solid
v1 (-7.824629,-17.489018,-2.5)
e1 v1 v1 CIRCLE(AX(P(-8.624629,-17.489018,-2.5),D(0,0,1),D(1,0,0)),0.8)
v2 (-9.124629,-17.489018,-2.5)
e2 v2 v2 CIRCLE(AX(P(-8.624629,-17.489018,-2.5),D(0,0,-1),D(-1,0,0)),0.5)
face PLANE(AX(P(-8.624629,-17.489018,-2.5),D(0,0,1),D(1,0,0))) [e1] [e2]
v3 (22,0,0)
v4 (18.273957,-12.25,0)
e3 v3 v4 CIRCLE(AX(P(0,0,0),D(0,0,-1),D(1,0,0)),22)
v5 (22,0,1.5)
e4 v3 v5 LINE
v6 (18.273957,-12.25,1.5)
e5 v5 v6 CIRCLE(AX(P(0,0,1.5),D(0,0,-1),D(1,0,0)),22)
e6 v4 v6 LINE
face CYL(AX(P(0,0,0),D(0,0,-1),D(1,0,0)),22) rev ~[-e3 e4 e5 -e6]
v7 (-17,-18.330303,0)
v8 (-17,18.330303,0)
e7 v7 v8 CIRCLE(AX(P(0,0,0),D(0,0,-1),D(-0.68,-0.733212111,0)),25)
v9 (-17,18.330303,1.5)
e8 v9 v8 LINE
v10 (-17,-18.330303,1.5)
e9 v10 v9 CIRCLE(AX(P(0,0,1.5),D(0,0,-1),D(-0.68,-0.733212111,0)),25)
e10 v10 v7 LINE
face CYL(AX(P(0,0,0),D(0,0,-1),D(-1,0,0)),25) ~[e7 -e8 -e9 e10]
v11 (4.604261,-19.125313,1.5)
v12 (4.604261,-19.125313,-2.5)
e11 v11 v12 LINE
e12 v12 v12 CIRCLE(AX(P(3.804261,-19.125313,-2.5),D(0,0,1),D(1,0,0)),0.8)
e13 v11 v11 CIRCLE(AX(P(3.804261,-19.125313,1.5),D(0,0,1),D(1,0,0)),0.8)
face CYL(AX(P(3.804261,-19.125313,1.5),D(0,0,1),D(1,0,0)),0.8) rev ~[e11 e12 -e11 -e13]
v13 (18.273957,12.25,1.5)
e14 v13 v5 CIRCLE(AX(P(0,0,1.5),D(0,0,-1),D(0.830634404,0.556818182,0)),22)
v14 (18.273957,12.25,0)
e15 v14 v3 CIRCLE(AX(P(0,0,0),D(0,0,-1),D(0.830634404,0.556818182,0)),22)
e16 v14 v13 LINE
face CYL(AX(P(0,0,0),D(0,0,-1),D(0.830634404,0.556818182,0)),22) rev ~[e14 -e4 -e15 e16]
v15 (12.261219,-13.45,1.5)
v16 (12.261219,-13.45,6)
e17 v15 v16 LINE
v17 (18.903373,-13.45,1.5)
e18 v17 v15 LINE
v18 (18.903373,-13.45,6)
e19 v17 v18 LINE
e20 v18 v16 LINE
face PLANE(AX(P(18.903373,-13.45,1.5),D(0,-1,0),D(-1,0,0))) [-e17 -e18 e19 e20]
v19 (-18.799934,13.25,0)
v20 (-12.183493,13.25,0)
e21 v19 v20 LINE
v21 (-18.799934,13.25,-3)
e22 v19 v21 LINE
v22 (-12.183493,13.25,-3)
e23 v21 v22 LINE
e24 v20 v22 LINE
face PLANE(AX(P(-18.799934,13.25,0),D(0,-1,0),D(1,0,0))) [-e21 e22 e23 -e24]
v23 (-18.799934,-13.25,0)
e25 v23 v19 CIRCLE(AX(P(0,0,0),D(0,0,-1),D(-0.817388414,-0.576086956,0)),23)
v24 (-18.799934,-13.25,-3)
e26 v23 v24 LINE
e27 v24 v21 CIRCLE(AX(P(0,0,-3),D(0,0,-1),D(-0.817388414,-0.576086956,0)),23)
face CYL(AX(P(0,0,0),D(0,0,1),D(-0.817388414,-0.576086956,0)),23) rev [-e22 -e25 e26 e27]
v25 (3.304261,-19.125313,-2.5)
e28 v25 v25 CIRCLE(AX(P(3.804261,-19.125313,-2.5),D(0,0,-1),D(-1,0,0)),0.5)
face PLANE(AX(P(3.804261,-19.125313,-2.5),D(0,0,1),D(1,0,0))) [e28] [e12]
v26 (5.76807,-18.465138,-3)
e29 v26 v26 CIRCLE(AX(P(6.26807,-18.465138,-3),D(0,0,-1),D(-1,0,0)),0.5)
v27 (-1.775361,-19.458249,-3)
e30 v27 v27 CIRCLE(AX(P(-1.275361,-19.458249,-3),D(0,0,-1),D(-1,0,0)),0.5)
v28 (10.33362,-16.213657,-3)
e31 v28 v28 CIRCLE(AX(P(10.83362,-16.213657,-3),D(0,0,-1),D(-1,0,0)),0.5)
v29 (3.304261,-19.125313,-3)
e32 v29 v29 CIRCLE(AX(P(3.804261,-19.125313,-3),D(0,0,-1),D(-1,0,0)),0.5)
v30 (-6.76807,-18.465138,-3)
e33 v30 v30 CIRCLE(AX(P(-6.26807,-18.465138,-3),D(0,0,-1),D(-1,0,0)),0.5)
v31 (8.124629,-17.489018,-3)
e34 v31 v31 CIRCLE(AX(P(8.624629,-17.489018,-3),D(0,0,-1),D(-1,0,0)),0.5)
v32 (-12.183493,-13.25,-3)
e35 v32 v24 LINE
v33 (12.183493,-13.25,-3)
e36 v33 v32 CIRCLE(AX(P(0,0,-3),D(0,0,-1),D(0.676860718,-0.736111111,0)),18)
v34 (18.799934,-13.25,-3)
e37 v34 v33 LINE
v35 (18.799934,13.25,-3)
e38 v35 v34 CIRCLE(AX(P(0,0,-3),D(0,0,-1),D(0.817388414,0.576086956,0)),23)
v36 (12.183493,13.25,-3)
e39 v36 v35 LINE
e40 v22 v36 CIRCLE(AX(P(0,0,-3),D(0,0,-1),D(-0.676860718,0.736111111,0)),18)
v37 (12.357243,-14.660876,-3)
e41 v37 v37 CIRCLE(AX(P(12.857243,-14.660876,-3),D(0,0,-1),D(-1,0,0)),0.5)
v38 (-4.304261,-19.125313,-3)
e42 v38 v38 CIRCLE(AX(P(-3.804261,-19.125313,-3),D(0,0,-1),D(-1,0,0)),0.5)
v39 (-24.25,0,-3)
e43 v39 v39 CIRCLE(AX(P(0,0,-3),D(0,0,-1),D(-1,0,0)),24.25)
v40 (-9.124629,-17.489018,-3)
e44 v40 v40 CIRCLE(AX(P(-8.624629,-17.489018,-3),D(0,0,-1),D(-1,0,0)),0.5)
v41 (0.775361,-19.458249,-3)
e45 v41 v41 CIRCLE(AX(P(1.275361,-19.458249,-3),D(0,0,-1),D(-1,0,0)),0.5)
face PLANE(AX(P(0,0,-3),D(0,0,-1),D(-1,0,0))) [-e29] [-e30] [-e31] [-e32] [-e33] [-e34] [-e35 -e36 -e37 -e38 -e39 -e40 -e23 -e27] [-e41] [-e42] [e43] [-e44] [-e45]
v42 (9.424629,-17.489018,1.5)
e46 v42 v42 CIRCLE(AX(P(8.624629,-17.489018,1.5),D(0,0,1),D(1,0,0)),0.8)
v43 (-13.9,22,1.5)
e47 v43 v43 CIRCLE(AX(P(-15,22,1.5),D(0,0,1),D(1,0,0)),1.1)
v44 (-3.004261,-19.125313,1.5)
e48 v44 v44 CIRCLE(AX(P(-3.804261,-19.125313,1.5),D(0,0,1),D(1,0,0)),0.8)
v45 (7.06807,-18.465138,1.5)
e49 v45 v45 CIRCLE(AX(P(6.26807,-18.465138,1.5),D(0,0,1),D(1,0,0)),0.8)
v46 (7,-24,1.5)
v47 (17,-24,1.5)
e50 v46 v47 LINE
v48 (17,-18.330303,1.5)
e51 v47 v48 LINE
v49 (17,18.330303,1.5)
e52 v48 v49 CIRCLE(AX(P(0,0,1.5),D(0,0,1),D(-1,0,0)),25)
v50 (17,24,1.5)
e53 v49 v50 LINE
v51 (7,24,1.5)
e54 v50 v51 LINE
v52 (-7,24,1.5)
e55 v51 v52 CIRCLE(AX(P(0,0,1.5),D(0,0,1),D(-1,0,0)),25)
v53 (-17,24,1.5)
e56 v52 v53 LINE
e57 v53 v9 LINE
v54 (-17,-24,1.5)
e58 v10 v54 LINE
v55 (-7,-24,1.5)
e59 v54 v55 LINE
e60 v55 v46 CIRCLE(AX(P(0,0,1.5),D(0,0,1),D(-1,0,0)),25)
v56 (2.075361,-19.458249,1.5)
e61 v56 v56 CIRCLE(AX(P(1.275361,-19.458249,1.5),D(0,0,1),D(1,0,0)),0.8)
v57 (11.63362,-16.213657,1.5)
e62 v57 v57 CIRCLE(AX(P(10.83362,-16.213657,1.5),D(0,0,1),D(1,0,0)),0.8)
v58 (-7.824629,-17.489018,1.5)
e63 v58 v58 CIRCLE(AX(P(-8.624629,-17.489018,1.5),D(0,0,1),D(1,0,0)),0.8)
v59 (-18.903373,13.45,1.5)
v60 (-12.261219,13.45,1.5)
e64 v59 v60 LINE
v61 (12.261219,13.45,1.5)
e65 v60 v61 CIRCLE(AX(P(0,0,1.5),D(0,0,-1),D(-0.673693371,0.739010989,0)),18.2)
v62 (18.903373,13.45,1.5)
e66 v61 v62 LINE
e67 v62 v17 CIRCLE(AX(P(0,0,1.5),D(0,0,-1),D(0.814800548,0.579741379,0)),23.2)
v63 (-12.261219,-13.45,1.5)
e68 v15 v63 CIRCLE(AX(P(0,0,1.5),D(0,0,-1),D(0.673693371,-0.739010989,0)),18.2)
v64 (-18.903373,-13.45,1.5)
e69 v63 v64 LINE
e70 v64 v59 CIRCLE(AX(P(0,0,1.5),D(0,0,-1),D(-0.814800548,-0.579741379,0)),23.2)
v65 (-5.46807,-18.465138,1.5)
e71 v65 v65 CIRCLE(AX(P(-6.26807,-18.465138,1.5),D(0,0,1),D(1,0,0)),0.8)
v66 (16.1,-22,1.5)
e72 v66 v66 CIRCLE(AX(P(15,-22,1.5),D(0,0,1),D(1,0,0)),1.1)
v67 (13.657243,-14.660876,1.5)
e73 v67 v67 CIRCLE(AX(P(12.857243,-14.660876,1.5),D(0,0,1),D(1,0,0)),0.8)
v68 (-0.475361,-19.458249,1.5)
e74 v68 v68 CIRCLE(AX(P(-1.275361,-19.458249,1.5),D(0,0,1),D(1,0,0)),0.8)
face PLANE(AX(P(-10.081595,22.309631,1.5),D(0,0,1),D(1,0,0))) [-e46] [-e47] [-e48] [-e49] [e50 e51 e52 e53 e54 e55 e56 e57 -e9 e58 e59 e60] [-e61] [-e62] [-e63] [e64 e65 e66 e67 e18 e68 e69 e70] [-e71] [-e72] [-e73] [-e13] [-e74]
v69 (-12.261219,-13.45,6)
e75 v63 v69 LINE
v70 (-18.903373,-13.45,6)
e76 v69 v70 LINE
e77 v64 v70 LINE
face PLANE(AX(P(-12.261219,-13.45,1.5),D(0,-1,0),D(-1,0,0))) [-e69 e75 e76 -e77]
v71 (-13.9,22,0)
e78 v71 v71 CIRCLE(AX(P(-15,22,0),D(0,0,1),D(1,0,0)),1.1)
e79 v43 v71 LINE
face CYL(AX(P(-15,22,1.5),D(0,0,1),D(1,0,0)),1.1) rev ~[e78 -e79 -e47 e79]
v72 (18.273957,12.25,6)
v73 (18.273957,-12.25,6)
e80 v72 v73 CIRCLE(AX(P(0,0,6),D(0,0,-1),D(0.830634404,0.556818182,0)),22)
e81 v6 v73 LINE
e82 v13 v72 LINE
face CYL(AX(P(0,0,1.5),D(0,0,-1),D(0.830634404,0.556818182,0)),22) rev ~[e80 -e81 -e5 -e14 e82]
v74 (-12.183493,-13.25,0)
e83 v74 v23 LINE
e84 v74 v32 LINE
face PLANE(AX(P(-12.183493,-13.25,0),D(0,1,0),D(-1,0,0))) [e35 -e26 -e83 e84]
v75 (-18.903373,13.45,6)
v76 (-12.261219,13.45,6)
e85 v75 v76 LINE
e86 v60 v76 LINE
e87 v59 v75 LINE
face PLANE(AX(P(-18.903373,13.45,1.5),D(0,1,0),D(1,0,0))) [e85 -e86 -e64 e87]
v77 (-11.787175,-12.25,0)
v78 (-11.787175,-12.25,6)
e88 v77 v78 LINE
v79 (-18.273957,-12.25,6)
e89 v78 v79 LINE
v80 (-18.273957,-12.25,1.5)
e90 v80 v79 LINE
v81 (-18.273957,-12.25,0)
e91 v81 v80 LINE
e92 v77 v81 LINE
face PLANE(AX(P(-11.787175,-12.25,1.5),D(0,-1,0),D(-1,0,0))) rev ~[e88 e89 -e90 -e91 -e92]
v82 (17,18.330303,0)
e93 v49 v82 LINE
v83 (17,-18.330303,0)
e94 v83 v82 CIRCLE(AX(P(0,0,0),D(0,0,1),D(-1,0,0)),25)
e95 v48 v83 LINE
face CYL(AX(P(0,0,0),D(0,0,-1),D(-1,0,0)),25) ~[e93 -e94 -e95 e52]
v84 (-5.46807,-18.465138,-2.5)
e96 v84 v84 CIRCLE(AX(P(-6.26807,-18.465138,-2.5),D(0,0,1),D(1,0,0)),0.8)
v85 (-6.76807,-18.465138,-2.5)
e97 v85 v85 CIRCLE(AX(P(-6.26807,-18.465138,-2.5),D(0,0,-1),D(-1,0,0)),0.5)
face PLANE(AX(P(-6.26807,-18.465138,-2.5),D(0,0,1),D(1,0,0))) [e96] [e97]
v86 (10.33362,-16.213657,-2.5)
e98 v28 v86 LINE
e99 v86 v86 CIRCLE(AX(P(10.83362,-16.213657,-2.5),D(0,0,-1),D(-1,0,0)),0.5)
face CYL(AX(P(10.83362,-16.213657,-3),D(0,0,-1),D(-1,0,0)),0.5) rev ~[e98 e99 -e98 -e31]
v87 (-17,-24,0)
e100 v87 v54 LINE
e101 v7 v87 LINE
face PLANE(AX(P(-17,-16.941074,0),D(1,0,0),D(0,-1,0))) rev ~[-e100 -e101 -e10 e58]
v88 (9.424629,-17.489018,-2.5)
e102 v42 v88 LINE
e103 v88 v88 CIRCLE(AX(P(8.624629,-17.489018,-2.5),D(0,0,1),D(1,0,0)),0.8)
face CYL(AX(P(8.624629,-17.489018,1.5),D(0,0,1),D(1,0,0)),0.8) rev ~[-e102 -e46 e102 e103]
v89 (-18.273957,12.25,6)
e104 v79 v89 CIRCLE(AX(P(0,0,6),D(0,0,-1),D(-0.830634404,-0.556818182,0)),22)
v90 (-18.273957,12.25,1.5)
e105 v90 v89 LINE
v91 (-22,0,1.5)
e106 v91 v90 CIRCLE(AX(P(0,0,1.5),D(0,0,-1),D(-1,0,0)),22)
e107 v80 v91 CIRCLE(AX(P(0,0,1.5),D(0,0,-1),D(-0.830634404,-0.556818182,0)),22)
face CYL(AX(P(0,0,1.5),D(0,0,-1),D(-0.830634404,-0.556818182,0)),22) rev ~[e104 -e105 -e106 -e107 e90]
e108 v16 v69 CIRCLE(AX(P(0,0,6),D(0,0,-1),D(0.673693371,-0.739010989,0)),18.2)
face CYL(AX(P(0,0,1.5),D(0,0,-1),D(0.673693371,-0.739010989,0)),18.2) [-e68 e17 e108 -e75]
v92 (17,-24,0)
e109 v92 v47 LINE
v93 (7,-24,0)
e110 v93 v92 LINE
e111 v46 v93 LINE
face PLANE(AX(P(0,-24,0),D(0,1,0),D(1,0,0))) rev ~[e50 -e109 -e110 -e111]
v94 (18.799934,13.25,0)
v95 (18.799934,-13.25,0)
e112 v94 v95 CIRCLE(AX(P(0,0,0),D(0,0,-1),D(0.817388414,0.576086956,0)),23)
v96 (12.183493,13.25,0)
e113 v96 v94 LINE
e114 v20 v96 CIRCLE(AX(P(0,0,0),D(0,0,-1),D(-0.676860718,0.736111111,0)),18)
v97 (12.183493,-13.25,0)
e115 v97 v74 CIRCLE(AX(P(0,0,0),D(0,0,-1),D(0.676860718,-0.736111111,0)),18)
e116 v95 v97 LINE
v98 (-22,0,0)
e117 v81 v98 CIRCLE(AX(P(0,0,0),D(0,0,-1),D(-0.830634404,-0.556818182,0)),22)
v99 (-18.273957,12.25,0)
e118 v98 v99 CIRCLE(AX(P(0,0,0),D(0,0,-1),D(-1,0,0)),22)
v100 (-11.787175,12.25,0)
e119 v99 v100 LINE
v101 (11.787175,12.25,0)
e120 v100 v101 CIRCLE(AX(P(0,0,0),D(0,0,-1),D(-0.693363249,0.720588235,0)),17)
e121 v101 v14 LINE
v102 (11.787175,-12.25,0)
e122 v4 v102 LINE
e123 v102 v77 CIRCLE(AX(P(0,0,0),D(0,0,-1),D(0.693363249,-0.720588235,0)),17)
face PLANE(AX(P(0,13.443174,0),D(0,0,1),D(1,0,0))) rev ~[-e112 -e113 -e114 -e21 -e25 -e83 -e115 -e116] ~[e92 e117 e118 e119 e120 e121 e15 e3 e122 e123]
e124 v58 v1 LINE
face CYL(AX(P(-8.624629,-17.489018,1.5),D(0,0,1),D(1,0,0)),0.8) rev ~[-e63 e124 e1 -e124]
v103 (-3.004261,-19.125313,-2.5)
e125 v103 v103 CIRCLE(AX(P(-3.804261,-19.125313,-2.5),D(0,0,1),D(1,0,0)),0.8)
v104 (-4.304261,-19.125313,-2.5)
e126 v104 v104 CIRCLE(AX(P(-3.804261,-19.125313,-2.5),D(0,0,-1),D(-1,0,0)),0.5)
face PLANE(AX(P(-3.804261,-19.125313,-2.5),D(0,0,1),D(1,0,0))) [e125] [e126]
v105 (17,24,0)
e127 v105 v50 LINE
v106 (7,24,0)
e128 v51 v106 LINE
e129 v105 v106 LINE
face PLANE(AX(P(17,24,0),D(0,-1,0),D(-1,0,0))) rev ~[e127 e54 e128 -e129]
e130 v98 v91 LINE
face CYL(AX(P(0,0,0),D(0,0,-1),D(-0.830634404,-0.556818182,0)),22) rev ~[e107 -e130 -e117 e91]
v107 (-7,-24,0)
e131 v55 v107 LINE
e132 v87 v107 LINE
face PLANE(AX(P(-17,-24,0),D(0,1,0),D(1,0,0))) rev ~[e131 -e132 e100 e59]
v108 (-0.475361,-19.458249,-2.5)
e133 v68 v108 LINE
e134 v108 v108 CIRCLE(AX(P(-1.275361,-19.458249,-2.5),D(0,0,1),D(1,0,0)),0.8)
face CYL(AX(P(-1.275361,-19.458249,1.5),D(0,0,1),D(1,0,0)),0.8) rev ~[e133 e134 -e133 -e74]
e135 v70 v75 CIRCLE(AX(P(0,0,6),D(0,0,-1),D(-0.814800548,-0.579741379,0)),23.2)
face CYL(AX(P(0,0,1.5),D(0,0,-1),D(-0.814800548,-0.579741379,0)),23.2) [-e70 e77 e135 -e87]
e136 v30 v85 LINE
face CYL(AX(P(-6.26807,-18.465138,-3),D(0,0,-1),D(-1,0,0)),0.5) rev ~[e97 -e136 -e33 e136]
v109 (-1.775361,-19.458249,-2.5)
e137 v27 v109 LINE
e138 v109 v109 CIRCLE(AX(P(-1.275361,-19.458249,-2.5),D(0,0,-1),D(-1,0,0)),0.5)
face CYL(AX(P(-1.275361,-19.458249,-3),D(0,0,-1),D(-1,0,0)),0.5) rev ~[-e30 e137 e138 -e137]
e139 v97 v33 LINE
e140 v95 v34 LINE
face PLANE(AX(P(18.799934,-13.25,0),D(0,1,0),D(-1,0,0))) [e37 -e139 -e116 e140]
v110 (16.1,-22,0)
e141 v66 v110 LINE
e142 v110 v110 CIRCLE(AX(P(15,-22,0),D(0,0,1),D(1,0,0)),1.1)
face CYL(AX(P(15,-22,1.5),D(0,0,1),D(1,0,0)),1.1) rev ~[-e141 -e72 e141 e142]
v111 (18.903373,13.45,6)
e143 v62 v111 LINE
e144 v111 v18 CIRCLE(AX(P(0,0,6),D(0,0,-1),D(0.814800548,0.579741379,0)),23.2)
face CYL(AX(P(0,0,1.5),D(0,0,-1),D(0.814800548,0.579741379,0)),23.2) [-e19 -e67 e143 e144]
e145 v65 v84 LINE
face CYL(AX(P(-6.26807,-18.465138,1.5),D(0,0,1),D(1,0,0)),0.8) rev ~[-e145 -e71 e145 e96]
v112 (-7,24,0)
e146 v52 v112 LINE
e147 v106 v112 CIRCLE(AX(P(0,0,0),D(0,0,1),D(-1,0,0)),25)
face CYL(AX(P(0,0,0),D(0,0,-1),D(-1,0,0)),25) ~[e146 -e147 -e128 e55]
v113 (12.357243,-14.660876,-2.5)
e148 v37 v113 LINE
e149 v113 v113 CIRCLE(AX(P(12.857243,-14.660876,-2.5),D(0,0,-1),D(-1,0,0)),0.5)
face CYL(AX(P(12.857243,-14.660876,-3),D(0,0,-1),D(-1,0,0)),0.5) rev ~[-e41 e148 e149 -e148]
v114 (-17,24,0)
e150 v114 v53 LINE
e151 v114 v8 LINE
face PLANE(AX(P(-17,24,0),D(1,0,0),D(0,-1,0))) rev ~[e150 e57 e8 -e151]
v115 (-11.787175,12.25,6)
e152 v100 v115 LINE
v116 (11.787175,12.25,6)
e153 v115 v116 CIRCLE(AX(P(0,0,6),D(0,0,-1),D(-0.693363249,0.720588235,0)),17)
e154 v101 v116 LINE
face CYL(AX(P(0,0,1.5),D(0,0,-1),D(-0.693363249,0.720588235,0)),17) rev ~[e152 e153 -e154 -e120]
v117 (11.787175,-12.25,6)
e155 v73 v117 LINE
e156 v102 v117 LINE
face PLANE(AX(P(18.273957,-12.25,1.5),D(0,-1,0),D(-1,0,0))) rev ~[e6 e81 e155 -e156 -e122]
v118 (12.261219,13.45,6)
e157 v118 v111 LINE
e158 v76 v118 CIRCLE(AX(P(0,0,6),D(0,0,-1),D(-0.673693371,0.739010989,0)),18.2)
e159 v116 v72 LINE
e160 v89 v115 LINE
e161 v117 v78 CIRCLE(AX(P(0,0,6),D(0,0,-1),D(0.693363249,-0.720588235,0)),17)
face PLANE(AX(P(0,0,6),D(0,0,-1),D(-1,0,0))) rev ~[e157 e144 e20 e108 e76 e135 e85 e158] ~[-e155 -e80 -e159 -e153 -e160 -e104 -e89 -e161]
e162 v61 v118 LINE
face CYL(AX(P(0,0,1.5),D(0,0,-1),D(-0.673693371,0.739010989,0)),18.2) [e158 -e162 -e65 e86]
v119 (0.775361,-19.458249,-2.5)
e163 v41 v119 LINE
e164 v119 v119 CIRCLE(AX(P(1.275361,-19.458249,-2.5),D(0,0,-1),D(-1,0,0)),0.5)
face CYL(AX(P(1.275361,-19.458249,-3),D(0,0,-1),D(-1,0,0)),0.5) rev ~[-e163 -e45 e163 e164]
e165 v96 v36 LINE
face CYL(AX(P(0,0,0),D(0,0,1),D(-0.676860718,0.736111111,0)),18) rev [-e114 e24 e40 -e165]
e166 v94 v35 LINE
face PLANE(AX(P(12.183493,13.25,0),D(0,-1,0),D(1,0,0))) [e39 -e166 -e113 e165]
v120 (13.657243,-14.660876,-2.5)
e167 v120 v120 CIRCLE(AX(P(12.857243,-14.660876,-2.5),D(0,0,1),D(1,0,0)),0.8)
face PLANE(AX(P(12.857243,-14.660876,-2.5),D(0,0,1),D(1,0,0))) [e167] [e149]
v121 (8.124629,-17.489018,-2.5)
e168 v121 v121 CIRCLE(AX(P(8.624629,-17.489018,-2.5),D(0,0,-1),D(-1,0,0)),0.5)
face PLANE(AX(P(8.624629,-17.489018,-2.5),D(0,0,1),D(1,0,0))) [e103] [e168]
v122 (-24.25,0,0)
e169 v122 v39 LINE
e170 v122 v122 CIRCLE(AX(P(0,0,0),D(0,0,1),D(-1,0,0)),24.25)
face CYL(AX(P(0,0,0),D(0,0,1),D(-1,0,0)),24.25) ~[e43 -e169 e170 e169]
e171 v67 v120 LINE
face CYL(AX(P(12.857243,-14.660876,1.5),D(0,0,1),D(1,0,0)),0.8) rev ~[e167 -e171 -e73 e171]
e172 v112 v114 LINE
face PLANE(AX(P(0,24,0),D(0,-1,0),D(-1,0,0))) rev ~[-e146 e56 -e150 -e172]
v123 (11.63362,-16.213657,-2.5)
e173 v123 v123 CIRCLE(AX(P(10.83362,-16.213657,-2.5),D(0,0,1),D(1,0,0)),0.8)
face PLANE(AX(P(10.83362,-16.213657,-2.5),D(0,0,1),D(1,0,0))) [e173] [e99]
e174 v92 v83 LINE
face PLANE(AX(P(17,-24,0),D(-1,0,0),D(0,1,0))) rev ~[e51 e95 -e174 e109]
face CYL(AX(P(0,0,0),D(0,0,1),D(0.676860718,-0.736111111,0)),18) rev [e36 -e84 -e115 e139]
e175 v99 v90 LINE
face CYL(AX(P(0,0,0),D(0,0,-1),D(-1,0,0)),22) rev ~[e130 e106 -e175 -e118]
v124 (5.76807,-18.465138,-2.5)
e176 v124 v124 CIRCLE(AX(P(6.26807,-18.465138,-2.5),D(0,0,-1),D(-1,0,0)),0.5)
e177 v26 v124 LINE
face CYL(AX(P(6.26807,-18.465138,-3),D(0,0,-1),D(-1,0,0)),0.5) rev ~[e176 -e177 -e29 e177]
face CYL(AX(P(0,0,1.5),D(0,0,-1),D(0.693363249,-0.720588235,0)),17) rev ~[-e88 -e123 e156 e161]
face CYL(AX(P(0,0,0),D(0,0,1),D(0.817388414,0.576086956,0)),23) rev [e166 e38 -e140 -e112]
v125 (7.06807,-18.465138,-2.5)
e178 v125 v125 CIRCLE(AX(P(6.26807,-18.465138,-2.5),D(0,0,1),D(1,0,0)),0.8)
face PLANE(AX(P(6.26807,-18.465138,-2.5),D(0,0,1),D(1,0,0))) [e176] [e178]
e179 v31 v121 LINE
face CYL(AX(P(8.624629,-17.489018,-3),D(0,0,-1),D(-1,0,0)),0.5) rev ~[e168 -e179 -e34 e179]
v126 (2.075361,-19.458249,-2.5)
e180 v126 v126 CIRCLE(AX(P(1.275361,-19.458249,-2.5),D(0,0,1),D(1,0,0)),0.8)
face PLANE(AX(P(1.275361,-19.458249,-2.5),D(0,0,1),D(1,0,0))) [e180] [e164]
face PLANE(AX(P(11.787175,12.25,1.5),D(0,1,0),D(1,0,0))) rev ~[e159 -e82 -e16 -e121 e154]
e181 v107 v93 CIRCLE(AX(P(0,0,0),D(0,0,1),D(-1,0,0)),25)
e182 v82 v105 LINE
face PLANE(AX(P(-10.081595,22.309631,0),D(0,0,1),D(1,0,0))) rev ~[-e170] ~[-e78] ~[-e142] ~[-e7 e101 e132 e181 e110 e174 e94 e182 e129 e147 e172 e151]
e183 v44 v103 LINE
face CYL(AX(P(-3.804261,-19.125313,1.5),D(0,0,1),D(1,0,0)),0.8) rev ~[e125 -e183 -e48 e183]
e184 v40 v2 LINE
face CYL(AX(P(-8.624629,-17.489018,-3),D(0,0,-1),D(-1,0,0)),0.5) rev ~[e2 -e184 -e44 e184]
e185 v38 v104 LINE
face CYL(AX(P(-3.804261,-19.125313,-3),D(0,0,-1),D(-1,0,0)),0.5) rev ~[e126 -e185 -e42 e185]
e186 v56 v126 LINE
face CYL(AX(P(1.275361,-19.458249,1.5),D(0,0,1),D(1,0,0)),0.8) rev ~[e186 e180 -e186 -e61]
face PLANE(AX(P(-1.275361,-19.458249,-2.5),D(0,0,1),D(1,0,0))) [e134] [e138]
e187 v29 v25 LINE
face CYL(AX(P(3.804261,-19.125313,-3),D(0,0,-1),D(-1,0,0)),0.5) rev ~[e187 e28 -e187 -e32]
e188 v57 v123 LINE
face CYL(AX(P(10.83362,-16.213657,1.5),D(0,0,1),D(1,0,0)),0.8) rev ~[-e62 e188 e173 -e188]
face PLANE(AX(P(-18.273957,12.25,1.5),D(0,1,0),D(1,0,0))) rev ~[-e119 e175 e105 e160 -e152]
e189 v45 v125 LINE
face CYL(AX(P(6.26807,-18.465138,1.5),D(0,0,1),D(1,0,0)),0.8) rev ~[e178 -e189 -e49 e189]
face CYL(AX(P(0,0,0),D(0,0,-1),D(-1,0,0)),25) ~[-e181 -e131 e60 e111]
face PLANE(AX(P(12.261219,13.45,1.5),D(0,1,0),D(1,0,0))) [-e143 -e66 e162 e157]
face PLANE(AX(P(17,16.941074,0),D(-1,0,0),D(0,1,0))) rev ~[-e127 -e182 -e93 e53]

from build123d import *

# Parameters (mm, degrees)
EXTRUDE_1_DEPTH     = 1.5
EXTRUDE_2_DEPTH     = 4.5
SKETCH_5_R          = 24.25
EXTRUDE_4_DEPTH     = 3
EXTRUDE_5_DEPTH     = 1.5
SKETCH_7_R          = 0.5
CUT_EXTRUDE_2_DEPTH = 37.482872694
SKETCH_8_R          = 0.8
CUT_EXTRUDE_3_DEPTH = 4
SKETCH_9_R          = 1.1
CUT_EXTRUDE_4_DEPTH = 10


with BuildPart() as part:
    # 草图1 → 凸台-拉伸1 (new body)
    with BuildSketch(Plane.XY):
        with BuildLine():
            ThreePointArc((-18.273956879, 12.25), (0, 22), (18.273956879, 12.25))
            ThreePointArc((18.273956879, 12.25), (21.047886489, 6.402067973), (22, 0))
            Line((22, 0), (25, 0))
            ThreePointArc((25, 0), (0, 25), (-25, 0))
            Line((-25, 0), (-22, 0))
            ThreePointArc((-22, 0), (-21.047886489, 6.402067973), (-18.273956879, 12.25))
        make_face()
        with BuildLine():
            Line((25, 0), (22, 0))
            ThreePointArc((22, 0), (21.047886489, -6.402067973), (18.273956879, -12.25))
            ThreePointArc((18.273956879, -12.25), (0, -22), (-18.273956879, -12.25))
            ThreePointArc((-18.273956879, -12.25), (-21.047886489, -6.402067973), (-22, 0))
            Line((-22, 0), (-25, 0))
            ThreePointArc((-25, 0), (0, -25), (25, 0))
        make_face()
        with BuildLine():
            ThreePointArc((-18.273956879, -12.25), (0, -22), (18.273956879, -12.25))
            Line((18.273956879, -12.25), (11.787175234, -12.25))
            ThreePointArc((11.787175234, -12.25), (0, -17), (-11.787175234, -12.25))
            Line((-11.787175234, -12.25), (-18.273956879, -12.25))
        make_face()
        with BuildLine():
            Line((11.787175234, 12.25), (18.273956879, 12.25))
            ThreePointArc((18.273956879, 12.25), (0, 22), (-18.273956879, 12.25))
            Line((-18.273956879, 12.25), (-11.787175234, 12.25))
            ThreePointArc((-11.787175234, 12.25), (0, 17), (11.787175234, 12.25))
        make_face()
    extrude(amount=EXTRUDE_1_DEPTH)

    # 草图2 → 凸台-拉伸2 (add)
    with BuildSketch(Plane.XY.offset(1.5)):
        with BuildLine():
            Line((-18.903372715, 13.45), (-12.261219352, 13.45))
            ThreePointArc((-12.261219352, 13.45), (0, 18.2), (12.261219352, 13.45))
            Line((12.261219352, 13.45), (18.903372715, 13.45))
            ThreePointArc((18.903372715, 13.45), (23.2, 0), (18.903372715, -13.45))
            Line((18.903372715, -13.45), (12.261219352, -13.45))
            ThreePointArc((12.261219352, -13.45), (0, -18.2), (-12.261219352, -13.45))
            Line((-12.261219352, -13.45), (-18.903372715, -13.45))
            ThreePointArc((-18.903372715, -13.45), (-23.2, 0), (-18.903372715, 13.45))
        make_face()
        with BuildLine():
            Line((-18.273956879, 12.25), (-11.787175234, 12.25))
            ThreePointArc((-11.787175234, 12.25), (0, 17), (11.787175234, 12.25))
            Line((11.787175234, 12.25), (18.273956879, 12.25))
            ThreePointArc((18.273956879, 12.25), (22, 0), (18.273956879, -12.25))
            Line((18.273956879, -12.25), (11.787175234, -12.25))
            ThreePointArc((11.787175234, -12.25), (0, -17), (-11.787175234, -12.25))
            Line((-11.787175234, -12.25), (-18.273956879, -12.25))
            ThreePointArc((-18.273956879, -12.25), (-22, 0), (-18.273956879, 12.25))
        make_face(mode=Mode.SUBTRACT)
    extrude(amount=EXTRUDE_2_DEPTH)

    # 草图5 → 凸台-拉伸4 (add)
    with BuildSketch(Plane(origin=(0, 0, 0), x_dir=(-1, 0, 0), z_dir=(0, 0, -1))):
        Circle(SKETCH_5_R)
        with BuildLine():
            Line((-18.799933511, -13.25), (-12.183492931, -13.25))
            ThreePointArc((-12.183492931, -13.25), (0, -18), (12.183492931, -13.25))
            Line((12.183492931, -13.25), (18.799933511, -13.25))
            ThreePointArc((18.799933511, -13.25), (23, 0), (18.799933511, 13.25))
            Line((18.799933511, 13.25), (12.183492931, 13.25))
            ThreePointArc((12.183492931, 13.25), (0, 18), (-12.183492931, 13.25))
            Line((-12.183492931, 13.25), (-18.799933511, 13.25))
            ThreePointArc((-18.799933511, 13.25), (-23, 0), (-18.799933511, -13.25))
        make_face(mode=Mode.SUBTRACT)
    extrude(amount=EXTRUDE_4_DEPTH)

    # 草图6 → 凸台-拉伸5 (add)
    with BuildSketch(Plane.XY):
        with BuildLine():
            Line((-17, 24), (-17, 16.941074346))
            ThreePointArc((-17, 16.941074346), (-9.203646443, 22.16512784), (0, 24))
            Line((0, 24), (-17, 24))
        make_face()
        with BuildLine():
            ThreePointArc((0, 24), (9.203646443, 22.16512784), (17, 16.941074346))
            Line((17, 16.941074346), (17, 24))
            Line((17, 24), (0, 24))
        make_face()
        with BuildLine():
            ThreePointArc((17, -16.941074346), (9.203646443, -22.16512784), (0, -24))
            Line((0, -24), (17, -24))
            Line((17, -24), (17, -16.941074346))
        make_face()
        with BuildLine():
            Line((-17, -16.941074346), (-17, -24))
            Line((-17, -24), (0, -24))
            ThreePointArc((0, -24), (-9.203646443, -22.16512784), (-17, -16.941074346))
        make_face()
    extrude(amount=EXTRUDE_5_DEPTH)

    # 草图7 → 切除-拉伸2 (cut, through all)
    with BuildSketch(Plane(origin=(0, 0, -3), x_dir=(-1, 0, 0), z_dir=(0, 0, -1))):
        with Locations((-12.857243394, -14.660876246)):
            Circle(SKETCH_7_R)
        with Locations((-10.833619544, -16.21365744)):
            Circle(SKETCH_7_R)
        with Locations((-8.624629459, -17.48901846)):
            Circle(SKETCH_7_R)
        with Locations((-6.268069573, -18.465137525)):
            Circle(SKETCH_7_R)
        with Locations((-3.804261279, -19.125312968)):
            Circle(SKETCH_7_R)
        with Locations((-1.27536102, -19.458249003)):
            Circle(SKETCH_7_R)
        with Locations((1.27536102, -19.458249003)):
            Circle(SKETCH_7_R)
        with Locations((3.804261279, -19.125312968)):
            Circle(SKETCH_7_R)
        with Locations((6.268069573, -18.465137525)):
            Circle(SKETCH_7_R)
        with Locations((8.624629459, -17.48901846)):
            Circle(SKETCH_7_R)
    extrude(amount=-CUT_EXTRUDE_2_DEPTH, mode=Mode.SUBTRACT)

    # 草图8 → 切除-拉伸3 (cut)
    with BuildSketch(Plane.XY.offset(1.5)):
        with Locations((12.857243394, -14.660876246)):
            Circle(SKETCH_8_R)
        with Locations((10.833619544, -16.21365744)):
            Circle(SKETCH_8_R)
        with Locations((8.624629459, -17.48901846)):
            Circle(SKETCH_8_R)
        with Locations((6.268069573, -18.465137525)):
            Circle(SKETCH_8_R)
        with Locations((3.804261279, -19.125312968)):
            Circle(SKETCH_8_R)
        with Locations((1.27536102, -19.458249003)):
            Circle(SKETCH_8_R)
        with Locations((-1.27536102, -19.458249003)):
            Circle(SKETCH_8_R)
        with Locations((-3.804261279, -19.125312968)):
            Circle(SKETCH_8_R)
        with Locations((-6.268069573, -18.465137525)):
            Circle(SKETCH_8_R)
        with Locations((-8.624629459, -17.48901846)):
            Circle(SKETCH_8_R)
    extrude(amount=-CUT_EXTRUDE_3_DEPTH, mode=Mode.SUBTRACT)

    # 草图9 → 切除-拉伸4 (cut)
    with BuildSketch(Plane.XY.offset(1.5)):
        with Locations((-15, 22)):
            Circle(SKETCH_9_R)
        with Locations((15, -22)):
            Circle(SKETCH_9_R)
    extrude(amount=-CUT_EXTRUDE_4_DEPTH, mode=Mode.SUBTRACT)


solid = part.part
